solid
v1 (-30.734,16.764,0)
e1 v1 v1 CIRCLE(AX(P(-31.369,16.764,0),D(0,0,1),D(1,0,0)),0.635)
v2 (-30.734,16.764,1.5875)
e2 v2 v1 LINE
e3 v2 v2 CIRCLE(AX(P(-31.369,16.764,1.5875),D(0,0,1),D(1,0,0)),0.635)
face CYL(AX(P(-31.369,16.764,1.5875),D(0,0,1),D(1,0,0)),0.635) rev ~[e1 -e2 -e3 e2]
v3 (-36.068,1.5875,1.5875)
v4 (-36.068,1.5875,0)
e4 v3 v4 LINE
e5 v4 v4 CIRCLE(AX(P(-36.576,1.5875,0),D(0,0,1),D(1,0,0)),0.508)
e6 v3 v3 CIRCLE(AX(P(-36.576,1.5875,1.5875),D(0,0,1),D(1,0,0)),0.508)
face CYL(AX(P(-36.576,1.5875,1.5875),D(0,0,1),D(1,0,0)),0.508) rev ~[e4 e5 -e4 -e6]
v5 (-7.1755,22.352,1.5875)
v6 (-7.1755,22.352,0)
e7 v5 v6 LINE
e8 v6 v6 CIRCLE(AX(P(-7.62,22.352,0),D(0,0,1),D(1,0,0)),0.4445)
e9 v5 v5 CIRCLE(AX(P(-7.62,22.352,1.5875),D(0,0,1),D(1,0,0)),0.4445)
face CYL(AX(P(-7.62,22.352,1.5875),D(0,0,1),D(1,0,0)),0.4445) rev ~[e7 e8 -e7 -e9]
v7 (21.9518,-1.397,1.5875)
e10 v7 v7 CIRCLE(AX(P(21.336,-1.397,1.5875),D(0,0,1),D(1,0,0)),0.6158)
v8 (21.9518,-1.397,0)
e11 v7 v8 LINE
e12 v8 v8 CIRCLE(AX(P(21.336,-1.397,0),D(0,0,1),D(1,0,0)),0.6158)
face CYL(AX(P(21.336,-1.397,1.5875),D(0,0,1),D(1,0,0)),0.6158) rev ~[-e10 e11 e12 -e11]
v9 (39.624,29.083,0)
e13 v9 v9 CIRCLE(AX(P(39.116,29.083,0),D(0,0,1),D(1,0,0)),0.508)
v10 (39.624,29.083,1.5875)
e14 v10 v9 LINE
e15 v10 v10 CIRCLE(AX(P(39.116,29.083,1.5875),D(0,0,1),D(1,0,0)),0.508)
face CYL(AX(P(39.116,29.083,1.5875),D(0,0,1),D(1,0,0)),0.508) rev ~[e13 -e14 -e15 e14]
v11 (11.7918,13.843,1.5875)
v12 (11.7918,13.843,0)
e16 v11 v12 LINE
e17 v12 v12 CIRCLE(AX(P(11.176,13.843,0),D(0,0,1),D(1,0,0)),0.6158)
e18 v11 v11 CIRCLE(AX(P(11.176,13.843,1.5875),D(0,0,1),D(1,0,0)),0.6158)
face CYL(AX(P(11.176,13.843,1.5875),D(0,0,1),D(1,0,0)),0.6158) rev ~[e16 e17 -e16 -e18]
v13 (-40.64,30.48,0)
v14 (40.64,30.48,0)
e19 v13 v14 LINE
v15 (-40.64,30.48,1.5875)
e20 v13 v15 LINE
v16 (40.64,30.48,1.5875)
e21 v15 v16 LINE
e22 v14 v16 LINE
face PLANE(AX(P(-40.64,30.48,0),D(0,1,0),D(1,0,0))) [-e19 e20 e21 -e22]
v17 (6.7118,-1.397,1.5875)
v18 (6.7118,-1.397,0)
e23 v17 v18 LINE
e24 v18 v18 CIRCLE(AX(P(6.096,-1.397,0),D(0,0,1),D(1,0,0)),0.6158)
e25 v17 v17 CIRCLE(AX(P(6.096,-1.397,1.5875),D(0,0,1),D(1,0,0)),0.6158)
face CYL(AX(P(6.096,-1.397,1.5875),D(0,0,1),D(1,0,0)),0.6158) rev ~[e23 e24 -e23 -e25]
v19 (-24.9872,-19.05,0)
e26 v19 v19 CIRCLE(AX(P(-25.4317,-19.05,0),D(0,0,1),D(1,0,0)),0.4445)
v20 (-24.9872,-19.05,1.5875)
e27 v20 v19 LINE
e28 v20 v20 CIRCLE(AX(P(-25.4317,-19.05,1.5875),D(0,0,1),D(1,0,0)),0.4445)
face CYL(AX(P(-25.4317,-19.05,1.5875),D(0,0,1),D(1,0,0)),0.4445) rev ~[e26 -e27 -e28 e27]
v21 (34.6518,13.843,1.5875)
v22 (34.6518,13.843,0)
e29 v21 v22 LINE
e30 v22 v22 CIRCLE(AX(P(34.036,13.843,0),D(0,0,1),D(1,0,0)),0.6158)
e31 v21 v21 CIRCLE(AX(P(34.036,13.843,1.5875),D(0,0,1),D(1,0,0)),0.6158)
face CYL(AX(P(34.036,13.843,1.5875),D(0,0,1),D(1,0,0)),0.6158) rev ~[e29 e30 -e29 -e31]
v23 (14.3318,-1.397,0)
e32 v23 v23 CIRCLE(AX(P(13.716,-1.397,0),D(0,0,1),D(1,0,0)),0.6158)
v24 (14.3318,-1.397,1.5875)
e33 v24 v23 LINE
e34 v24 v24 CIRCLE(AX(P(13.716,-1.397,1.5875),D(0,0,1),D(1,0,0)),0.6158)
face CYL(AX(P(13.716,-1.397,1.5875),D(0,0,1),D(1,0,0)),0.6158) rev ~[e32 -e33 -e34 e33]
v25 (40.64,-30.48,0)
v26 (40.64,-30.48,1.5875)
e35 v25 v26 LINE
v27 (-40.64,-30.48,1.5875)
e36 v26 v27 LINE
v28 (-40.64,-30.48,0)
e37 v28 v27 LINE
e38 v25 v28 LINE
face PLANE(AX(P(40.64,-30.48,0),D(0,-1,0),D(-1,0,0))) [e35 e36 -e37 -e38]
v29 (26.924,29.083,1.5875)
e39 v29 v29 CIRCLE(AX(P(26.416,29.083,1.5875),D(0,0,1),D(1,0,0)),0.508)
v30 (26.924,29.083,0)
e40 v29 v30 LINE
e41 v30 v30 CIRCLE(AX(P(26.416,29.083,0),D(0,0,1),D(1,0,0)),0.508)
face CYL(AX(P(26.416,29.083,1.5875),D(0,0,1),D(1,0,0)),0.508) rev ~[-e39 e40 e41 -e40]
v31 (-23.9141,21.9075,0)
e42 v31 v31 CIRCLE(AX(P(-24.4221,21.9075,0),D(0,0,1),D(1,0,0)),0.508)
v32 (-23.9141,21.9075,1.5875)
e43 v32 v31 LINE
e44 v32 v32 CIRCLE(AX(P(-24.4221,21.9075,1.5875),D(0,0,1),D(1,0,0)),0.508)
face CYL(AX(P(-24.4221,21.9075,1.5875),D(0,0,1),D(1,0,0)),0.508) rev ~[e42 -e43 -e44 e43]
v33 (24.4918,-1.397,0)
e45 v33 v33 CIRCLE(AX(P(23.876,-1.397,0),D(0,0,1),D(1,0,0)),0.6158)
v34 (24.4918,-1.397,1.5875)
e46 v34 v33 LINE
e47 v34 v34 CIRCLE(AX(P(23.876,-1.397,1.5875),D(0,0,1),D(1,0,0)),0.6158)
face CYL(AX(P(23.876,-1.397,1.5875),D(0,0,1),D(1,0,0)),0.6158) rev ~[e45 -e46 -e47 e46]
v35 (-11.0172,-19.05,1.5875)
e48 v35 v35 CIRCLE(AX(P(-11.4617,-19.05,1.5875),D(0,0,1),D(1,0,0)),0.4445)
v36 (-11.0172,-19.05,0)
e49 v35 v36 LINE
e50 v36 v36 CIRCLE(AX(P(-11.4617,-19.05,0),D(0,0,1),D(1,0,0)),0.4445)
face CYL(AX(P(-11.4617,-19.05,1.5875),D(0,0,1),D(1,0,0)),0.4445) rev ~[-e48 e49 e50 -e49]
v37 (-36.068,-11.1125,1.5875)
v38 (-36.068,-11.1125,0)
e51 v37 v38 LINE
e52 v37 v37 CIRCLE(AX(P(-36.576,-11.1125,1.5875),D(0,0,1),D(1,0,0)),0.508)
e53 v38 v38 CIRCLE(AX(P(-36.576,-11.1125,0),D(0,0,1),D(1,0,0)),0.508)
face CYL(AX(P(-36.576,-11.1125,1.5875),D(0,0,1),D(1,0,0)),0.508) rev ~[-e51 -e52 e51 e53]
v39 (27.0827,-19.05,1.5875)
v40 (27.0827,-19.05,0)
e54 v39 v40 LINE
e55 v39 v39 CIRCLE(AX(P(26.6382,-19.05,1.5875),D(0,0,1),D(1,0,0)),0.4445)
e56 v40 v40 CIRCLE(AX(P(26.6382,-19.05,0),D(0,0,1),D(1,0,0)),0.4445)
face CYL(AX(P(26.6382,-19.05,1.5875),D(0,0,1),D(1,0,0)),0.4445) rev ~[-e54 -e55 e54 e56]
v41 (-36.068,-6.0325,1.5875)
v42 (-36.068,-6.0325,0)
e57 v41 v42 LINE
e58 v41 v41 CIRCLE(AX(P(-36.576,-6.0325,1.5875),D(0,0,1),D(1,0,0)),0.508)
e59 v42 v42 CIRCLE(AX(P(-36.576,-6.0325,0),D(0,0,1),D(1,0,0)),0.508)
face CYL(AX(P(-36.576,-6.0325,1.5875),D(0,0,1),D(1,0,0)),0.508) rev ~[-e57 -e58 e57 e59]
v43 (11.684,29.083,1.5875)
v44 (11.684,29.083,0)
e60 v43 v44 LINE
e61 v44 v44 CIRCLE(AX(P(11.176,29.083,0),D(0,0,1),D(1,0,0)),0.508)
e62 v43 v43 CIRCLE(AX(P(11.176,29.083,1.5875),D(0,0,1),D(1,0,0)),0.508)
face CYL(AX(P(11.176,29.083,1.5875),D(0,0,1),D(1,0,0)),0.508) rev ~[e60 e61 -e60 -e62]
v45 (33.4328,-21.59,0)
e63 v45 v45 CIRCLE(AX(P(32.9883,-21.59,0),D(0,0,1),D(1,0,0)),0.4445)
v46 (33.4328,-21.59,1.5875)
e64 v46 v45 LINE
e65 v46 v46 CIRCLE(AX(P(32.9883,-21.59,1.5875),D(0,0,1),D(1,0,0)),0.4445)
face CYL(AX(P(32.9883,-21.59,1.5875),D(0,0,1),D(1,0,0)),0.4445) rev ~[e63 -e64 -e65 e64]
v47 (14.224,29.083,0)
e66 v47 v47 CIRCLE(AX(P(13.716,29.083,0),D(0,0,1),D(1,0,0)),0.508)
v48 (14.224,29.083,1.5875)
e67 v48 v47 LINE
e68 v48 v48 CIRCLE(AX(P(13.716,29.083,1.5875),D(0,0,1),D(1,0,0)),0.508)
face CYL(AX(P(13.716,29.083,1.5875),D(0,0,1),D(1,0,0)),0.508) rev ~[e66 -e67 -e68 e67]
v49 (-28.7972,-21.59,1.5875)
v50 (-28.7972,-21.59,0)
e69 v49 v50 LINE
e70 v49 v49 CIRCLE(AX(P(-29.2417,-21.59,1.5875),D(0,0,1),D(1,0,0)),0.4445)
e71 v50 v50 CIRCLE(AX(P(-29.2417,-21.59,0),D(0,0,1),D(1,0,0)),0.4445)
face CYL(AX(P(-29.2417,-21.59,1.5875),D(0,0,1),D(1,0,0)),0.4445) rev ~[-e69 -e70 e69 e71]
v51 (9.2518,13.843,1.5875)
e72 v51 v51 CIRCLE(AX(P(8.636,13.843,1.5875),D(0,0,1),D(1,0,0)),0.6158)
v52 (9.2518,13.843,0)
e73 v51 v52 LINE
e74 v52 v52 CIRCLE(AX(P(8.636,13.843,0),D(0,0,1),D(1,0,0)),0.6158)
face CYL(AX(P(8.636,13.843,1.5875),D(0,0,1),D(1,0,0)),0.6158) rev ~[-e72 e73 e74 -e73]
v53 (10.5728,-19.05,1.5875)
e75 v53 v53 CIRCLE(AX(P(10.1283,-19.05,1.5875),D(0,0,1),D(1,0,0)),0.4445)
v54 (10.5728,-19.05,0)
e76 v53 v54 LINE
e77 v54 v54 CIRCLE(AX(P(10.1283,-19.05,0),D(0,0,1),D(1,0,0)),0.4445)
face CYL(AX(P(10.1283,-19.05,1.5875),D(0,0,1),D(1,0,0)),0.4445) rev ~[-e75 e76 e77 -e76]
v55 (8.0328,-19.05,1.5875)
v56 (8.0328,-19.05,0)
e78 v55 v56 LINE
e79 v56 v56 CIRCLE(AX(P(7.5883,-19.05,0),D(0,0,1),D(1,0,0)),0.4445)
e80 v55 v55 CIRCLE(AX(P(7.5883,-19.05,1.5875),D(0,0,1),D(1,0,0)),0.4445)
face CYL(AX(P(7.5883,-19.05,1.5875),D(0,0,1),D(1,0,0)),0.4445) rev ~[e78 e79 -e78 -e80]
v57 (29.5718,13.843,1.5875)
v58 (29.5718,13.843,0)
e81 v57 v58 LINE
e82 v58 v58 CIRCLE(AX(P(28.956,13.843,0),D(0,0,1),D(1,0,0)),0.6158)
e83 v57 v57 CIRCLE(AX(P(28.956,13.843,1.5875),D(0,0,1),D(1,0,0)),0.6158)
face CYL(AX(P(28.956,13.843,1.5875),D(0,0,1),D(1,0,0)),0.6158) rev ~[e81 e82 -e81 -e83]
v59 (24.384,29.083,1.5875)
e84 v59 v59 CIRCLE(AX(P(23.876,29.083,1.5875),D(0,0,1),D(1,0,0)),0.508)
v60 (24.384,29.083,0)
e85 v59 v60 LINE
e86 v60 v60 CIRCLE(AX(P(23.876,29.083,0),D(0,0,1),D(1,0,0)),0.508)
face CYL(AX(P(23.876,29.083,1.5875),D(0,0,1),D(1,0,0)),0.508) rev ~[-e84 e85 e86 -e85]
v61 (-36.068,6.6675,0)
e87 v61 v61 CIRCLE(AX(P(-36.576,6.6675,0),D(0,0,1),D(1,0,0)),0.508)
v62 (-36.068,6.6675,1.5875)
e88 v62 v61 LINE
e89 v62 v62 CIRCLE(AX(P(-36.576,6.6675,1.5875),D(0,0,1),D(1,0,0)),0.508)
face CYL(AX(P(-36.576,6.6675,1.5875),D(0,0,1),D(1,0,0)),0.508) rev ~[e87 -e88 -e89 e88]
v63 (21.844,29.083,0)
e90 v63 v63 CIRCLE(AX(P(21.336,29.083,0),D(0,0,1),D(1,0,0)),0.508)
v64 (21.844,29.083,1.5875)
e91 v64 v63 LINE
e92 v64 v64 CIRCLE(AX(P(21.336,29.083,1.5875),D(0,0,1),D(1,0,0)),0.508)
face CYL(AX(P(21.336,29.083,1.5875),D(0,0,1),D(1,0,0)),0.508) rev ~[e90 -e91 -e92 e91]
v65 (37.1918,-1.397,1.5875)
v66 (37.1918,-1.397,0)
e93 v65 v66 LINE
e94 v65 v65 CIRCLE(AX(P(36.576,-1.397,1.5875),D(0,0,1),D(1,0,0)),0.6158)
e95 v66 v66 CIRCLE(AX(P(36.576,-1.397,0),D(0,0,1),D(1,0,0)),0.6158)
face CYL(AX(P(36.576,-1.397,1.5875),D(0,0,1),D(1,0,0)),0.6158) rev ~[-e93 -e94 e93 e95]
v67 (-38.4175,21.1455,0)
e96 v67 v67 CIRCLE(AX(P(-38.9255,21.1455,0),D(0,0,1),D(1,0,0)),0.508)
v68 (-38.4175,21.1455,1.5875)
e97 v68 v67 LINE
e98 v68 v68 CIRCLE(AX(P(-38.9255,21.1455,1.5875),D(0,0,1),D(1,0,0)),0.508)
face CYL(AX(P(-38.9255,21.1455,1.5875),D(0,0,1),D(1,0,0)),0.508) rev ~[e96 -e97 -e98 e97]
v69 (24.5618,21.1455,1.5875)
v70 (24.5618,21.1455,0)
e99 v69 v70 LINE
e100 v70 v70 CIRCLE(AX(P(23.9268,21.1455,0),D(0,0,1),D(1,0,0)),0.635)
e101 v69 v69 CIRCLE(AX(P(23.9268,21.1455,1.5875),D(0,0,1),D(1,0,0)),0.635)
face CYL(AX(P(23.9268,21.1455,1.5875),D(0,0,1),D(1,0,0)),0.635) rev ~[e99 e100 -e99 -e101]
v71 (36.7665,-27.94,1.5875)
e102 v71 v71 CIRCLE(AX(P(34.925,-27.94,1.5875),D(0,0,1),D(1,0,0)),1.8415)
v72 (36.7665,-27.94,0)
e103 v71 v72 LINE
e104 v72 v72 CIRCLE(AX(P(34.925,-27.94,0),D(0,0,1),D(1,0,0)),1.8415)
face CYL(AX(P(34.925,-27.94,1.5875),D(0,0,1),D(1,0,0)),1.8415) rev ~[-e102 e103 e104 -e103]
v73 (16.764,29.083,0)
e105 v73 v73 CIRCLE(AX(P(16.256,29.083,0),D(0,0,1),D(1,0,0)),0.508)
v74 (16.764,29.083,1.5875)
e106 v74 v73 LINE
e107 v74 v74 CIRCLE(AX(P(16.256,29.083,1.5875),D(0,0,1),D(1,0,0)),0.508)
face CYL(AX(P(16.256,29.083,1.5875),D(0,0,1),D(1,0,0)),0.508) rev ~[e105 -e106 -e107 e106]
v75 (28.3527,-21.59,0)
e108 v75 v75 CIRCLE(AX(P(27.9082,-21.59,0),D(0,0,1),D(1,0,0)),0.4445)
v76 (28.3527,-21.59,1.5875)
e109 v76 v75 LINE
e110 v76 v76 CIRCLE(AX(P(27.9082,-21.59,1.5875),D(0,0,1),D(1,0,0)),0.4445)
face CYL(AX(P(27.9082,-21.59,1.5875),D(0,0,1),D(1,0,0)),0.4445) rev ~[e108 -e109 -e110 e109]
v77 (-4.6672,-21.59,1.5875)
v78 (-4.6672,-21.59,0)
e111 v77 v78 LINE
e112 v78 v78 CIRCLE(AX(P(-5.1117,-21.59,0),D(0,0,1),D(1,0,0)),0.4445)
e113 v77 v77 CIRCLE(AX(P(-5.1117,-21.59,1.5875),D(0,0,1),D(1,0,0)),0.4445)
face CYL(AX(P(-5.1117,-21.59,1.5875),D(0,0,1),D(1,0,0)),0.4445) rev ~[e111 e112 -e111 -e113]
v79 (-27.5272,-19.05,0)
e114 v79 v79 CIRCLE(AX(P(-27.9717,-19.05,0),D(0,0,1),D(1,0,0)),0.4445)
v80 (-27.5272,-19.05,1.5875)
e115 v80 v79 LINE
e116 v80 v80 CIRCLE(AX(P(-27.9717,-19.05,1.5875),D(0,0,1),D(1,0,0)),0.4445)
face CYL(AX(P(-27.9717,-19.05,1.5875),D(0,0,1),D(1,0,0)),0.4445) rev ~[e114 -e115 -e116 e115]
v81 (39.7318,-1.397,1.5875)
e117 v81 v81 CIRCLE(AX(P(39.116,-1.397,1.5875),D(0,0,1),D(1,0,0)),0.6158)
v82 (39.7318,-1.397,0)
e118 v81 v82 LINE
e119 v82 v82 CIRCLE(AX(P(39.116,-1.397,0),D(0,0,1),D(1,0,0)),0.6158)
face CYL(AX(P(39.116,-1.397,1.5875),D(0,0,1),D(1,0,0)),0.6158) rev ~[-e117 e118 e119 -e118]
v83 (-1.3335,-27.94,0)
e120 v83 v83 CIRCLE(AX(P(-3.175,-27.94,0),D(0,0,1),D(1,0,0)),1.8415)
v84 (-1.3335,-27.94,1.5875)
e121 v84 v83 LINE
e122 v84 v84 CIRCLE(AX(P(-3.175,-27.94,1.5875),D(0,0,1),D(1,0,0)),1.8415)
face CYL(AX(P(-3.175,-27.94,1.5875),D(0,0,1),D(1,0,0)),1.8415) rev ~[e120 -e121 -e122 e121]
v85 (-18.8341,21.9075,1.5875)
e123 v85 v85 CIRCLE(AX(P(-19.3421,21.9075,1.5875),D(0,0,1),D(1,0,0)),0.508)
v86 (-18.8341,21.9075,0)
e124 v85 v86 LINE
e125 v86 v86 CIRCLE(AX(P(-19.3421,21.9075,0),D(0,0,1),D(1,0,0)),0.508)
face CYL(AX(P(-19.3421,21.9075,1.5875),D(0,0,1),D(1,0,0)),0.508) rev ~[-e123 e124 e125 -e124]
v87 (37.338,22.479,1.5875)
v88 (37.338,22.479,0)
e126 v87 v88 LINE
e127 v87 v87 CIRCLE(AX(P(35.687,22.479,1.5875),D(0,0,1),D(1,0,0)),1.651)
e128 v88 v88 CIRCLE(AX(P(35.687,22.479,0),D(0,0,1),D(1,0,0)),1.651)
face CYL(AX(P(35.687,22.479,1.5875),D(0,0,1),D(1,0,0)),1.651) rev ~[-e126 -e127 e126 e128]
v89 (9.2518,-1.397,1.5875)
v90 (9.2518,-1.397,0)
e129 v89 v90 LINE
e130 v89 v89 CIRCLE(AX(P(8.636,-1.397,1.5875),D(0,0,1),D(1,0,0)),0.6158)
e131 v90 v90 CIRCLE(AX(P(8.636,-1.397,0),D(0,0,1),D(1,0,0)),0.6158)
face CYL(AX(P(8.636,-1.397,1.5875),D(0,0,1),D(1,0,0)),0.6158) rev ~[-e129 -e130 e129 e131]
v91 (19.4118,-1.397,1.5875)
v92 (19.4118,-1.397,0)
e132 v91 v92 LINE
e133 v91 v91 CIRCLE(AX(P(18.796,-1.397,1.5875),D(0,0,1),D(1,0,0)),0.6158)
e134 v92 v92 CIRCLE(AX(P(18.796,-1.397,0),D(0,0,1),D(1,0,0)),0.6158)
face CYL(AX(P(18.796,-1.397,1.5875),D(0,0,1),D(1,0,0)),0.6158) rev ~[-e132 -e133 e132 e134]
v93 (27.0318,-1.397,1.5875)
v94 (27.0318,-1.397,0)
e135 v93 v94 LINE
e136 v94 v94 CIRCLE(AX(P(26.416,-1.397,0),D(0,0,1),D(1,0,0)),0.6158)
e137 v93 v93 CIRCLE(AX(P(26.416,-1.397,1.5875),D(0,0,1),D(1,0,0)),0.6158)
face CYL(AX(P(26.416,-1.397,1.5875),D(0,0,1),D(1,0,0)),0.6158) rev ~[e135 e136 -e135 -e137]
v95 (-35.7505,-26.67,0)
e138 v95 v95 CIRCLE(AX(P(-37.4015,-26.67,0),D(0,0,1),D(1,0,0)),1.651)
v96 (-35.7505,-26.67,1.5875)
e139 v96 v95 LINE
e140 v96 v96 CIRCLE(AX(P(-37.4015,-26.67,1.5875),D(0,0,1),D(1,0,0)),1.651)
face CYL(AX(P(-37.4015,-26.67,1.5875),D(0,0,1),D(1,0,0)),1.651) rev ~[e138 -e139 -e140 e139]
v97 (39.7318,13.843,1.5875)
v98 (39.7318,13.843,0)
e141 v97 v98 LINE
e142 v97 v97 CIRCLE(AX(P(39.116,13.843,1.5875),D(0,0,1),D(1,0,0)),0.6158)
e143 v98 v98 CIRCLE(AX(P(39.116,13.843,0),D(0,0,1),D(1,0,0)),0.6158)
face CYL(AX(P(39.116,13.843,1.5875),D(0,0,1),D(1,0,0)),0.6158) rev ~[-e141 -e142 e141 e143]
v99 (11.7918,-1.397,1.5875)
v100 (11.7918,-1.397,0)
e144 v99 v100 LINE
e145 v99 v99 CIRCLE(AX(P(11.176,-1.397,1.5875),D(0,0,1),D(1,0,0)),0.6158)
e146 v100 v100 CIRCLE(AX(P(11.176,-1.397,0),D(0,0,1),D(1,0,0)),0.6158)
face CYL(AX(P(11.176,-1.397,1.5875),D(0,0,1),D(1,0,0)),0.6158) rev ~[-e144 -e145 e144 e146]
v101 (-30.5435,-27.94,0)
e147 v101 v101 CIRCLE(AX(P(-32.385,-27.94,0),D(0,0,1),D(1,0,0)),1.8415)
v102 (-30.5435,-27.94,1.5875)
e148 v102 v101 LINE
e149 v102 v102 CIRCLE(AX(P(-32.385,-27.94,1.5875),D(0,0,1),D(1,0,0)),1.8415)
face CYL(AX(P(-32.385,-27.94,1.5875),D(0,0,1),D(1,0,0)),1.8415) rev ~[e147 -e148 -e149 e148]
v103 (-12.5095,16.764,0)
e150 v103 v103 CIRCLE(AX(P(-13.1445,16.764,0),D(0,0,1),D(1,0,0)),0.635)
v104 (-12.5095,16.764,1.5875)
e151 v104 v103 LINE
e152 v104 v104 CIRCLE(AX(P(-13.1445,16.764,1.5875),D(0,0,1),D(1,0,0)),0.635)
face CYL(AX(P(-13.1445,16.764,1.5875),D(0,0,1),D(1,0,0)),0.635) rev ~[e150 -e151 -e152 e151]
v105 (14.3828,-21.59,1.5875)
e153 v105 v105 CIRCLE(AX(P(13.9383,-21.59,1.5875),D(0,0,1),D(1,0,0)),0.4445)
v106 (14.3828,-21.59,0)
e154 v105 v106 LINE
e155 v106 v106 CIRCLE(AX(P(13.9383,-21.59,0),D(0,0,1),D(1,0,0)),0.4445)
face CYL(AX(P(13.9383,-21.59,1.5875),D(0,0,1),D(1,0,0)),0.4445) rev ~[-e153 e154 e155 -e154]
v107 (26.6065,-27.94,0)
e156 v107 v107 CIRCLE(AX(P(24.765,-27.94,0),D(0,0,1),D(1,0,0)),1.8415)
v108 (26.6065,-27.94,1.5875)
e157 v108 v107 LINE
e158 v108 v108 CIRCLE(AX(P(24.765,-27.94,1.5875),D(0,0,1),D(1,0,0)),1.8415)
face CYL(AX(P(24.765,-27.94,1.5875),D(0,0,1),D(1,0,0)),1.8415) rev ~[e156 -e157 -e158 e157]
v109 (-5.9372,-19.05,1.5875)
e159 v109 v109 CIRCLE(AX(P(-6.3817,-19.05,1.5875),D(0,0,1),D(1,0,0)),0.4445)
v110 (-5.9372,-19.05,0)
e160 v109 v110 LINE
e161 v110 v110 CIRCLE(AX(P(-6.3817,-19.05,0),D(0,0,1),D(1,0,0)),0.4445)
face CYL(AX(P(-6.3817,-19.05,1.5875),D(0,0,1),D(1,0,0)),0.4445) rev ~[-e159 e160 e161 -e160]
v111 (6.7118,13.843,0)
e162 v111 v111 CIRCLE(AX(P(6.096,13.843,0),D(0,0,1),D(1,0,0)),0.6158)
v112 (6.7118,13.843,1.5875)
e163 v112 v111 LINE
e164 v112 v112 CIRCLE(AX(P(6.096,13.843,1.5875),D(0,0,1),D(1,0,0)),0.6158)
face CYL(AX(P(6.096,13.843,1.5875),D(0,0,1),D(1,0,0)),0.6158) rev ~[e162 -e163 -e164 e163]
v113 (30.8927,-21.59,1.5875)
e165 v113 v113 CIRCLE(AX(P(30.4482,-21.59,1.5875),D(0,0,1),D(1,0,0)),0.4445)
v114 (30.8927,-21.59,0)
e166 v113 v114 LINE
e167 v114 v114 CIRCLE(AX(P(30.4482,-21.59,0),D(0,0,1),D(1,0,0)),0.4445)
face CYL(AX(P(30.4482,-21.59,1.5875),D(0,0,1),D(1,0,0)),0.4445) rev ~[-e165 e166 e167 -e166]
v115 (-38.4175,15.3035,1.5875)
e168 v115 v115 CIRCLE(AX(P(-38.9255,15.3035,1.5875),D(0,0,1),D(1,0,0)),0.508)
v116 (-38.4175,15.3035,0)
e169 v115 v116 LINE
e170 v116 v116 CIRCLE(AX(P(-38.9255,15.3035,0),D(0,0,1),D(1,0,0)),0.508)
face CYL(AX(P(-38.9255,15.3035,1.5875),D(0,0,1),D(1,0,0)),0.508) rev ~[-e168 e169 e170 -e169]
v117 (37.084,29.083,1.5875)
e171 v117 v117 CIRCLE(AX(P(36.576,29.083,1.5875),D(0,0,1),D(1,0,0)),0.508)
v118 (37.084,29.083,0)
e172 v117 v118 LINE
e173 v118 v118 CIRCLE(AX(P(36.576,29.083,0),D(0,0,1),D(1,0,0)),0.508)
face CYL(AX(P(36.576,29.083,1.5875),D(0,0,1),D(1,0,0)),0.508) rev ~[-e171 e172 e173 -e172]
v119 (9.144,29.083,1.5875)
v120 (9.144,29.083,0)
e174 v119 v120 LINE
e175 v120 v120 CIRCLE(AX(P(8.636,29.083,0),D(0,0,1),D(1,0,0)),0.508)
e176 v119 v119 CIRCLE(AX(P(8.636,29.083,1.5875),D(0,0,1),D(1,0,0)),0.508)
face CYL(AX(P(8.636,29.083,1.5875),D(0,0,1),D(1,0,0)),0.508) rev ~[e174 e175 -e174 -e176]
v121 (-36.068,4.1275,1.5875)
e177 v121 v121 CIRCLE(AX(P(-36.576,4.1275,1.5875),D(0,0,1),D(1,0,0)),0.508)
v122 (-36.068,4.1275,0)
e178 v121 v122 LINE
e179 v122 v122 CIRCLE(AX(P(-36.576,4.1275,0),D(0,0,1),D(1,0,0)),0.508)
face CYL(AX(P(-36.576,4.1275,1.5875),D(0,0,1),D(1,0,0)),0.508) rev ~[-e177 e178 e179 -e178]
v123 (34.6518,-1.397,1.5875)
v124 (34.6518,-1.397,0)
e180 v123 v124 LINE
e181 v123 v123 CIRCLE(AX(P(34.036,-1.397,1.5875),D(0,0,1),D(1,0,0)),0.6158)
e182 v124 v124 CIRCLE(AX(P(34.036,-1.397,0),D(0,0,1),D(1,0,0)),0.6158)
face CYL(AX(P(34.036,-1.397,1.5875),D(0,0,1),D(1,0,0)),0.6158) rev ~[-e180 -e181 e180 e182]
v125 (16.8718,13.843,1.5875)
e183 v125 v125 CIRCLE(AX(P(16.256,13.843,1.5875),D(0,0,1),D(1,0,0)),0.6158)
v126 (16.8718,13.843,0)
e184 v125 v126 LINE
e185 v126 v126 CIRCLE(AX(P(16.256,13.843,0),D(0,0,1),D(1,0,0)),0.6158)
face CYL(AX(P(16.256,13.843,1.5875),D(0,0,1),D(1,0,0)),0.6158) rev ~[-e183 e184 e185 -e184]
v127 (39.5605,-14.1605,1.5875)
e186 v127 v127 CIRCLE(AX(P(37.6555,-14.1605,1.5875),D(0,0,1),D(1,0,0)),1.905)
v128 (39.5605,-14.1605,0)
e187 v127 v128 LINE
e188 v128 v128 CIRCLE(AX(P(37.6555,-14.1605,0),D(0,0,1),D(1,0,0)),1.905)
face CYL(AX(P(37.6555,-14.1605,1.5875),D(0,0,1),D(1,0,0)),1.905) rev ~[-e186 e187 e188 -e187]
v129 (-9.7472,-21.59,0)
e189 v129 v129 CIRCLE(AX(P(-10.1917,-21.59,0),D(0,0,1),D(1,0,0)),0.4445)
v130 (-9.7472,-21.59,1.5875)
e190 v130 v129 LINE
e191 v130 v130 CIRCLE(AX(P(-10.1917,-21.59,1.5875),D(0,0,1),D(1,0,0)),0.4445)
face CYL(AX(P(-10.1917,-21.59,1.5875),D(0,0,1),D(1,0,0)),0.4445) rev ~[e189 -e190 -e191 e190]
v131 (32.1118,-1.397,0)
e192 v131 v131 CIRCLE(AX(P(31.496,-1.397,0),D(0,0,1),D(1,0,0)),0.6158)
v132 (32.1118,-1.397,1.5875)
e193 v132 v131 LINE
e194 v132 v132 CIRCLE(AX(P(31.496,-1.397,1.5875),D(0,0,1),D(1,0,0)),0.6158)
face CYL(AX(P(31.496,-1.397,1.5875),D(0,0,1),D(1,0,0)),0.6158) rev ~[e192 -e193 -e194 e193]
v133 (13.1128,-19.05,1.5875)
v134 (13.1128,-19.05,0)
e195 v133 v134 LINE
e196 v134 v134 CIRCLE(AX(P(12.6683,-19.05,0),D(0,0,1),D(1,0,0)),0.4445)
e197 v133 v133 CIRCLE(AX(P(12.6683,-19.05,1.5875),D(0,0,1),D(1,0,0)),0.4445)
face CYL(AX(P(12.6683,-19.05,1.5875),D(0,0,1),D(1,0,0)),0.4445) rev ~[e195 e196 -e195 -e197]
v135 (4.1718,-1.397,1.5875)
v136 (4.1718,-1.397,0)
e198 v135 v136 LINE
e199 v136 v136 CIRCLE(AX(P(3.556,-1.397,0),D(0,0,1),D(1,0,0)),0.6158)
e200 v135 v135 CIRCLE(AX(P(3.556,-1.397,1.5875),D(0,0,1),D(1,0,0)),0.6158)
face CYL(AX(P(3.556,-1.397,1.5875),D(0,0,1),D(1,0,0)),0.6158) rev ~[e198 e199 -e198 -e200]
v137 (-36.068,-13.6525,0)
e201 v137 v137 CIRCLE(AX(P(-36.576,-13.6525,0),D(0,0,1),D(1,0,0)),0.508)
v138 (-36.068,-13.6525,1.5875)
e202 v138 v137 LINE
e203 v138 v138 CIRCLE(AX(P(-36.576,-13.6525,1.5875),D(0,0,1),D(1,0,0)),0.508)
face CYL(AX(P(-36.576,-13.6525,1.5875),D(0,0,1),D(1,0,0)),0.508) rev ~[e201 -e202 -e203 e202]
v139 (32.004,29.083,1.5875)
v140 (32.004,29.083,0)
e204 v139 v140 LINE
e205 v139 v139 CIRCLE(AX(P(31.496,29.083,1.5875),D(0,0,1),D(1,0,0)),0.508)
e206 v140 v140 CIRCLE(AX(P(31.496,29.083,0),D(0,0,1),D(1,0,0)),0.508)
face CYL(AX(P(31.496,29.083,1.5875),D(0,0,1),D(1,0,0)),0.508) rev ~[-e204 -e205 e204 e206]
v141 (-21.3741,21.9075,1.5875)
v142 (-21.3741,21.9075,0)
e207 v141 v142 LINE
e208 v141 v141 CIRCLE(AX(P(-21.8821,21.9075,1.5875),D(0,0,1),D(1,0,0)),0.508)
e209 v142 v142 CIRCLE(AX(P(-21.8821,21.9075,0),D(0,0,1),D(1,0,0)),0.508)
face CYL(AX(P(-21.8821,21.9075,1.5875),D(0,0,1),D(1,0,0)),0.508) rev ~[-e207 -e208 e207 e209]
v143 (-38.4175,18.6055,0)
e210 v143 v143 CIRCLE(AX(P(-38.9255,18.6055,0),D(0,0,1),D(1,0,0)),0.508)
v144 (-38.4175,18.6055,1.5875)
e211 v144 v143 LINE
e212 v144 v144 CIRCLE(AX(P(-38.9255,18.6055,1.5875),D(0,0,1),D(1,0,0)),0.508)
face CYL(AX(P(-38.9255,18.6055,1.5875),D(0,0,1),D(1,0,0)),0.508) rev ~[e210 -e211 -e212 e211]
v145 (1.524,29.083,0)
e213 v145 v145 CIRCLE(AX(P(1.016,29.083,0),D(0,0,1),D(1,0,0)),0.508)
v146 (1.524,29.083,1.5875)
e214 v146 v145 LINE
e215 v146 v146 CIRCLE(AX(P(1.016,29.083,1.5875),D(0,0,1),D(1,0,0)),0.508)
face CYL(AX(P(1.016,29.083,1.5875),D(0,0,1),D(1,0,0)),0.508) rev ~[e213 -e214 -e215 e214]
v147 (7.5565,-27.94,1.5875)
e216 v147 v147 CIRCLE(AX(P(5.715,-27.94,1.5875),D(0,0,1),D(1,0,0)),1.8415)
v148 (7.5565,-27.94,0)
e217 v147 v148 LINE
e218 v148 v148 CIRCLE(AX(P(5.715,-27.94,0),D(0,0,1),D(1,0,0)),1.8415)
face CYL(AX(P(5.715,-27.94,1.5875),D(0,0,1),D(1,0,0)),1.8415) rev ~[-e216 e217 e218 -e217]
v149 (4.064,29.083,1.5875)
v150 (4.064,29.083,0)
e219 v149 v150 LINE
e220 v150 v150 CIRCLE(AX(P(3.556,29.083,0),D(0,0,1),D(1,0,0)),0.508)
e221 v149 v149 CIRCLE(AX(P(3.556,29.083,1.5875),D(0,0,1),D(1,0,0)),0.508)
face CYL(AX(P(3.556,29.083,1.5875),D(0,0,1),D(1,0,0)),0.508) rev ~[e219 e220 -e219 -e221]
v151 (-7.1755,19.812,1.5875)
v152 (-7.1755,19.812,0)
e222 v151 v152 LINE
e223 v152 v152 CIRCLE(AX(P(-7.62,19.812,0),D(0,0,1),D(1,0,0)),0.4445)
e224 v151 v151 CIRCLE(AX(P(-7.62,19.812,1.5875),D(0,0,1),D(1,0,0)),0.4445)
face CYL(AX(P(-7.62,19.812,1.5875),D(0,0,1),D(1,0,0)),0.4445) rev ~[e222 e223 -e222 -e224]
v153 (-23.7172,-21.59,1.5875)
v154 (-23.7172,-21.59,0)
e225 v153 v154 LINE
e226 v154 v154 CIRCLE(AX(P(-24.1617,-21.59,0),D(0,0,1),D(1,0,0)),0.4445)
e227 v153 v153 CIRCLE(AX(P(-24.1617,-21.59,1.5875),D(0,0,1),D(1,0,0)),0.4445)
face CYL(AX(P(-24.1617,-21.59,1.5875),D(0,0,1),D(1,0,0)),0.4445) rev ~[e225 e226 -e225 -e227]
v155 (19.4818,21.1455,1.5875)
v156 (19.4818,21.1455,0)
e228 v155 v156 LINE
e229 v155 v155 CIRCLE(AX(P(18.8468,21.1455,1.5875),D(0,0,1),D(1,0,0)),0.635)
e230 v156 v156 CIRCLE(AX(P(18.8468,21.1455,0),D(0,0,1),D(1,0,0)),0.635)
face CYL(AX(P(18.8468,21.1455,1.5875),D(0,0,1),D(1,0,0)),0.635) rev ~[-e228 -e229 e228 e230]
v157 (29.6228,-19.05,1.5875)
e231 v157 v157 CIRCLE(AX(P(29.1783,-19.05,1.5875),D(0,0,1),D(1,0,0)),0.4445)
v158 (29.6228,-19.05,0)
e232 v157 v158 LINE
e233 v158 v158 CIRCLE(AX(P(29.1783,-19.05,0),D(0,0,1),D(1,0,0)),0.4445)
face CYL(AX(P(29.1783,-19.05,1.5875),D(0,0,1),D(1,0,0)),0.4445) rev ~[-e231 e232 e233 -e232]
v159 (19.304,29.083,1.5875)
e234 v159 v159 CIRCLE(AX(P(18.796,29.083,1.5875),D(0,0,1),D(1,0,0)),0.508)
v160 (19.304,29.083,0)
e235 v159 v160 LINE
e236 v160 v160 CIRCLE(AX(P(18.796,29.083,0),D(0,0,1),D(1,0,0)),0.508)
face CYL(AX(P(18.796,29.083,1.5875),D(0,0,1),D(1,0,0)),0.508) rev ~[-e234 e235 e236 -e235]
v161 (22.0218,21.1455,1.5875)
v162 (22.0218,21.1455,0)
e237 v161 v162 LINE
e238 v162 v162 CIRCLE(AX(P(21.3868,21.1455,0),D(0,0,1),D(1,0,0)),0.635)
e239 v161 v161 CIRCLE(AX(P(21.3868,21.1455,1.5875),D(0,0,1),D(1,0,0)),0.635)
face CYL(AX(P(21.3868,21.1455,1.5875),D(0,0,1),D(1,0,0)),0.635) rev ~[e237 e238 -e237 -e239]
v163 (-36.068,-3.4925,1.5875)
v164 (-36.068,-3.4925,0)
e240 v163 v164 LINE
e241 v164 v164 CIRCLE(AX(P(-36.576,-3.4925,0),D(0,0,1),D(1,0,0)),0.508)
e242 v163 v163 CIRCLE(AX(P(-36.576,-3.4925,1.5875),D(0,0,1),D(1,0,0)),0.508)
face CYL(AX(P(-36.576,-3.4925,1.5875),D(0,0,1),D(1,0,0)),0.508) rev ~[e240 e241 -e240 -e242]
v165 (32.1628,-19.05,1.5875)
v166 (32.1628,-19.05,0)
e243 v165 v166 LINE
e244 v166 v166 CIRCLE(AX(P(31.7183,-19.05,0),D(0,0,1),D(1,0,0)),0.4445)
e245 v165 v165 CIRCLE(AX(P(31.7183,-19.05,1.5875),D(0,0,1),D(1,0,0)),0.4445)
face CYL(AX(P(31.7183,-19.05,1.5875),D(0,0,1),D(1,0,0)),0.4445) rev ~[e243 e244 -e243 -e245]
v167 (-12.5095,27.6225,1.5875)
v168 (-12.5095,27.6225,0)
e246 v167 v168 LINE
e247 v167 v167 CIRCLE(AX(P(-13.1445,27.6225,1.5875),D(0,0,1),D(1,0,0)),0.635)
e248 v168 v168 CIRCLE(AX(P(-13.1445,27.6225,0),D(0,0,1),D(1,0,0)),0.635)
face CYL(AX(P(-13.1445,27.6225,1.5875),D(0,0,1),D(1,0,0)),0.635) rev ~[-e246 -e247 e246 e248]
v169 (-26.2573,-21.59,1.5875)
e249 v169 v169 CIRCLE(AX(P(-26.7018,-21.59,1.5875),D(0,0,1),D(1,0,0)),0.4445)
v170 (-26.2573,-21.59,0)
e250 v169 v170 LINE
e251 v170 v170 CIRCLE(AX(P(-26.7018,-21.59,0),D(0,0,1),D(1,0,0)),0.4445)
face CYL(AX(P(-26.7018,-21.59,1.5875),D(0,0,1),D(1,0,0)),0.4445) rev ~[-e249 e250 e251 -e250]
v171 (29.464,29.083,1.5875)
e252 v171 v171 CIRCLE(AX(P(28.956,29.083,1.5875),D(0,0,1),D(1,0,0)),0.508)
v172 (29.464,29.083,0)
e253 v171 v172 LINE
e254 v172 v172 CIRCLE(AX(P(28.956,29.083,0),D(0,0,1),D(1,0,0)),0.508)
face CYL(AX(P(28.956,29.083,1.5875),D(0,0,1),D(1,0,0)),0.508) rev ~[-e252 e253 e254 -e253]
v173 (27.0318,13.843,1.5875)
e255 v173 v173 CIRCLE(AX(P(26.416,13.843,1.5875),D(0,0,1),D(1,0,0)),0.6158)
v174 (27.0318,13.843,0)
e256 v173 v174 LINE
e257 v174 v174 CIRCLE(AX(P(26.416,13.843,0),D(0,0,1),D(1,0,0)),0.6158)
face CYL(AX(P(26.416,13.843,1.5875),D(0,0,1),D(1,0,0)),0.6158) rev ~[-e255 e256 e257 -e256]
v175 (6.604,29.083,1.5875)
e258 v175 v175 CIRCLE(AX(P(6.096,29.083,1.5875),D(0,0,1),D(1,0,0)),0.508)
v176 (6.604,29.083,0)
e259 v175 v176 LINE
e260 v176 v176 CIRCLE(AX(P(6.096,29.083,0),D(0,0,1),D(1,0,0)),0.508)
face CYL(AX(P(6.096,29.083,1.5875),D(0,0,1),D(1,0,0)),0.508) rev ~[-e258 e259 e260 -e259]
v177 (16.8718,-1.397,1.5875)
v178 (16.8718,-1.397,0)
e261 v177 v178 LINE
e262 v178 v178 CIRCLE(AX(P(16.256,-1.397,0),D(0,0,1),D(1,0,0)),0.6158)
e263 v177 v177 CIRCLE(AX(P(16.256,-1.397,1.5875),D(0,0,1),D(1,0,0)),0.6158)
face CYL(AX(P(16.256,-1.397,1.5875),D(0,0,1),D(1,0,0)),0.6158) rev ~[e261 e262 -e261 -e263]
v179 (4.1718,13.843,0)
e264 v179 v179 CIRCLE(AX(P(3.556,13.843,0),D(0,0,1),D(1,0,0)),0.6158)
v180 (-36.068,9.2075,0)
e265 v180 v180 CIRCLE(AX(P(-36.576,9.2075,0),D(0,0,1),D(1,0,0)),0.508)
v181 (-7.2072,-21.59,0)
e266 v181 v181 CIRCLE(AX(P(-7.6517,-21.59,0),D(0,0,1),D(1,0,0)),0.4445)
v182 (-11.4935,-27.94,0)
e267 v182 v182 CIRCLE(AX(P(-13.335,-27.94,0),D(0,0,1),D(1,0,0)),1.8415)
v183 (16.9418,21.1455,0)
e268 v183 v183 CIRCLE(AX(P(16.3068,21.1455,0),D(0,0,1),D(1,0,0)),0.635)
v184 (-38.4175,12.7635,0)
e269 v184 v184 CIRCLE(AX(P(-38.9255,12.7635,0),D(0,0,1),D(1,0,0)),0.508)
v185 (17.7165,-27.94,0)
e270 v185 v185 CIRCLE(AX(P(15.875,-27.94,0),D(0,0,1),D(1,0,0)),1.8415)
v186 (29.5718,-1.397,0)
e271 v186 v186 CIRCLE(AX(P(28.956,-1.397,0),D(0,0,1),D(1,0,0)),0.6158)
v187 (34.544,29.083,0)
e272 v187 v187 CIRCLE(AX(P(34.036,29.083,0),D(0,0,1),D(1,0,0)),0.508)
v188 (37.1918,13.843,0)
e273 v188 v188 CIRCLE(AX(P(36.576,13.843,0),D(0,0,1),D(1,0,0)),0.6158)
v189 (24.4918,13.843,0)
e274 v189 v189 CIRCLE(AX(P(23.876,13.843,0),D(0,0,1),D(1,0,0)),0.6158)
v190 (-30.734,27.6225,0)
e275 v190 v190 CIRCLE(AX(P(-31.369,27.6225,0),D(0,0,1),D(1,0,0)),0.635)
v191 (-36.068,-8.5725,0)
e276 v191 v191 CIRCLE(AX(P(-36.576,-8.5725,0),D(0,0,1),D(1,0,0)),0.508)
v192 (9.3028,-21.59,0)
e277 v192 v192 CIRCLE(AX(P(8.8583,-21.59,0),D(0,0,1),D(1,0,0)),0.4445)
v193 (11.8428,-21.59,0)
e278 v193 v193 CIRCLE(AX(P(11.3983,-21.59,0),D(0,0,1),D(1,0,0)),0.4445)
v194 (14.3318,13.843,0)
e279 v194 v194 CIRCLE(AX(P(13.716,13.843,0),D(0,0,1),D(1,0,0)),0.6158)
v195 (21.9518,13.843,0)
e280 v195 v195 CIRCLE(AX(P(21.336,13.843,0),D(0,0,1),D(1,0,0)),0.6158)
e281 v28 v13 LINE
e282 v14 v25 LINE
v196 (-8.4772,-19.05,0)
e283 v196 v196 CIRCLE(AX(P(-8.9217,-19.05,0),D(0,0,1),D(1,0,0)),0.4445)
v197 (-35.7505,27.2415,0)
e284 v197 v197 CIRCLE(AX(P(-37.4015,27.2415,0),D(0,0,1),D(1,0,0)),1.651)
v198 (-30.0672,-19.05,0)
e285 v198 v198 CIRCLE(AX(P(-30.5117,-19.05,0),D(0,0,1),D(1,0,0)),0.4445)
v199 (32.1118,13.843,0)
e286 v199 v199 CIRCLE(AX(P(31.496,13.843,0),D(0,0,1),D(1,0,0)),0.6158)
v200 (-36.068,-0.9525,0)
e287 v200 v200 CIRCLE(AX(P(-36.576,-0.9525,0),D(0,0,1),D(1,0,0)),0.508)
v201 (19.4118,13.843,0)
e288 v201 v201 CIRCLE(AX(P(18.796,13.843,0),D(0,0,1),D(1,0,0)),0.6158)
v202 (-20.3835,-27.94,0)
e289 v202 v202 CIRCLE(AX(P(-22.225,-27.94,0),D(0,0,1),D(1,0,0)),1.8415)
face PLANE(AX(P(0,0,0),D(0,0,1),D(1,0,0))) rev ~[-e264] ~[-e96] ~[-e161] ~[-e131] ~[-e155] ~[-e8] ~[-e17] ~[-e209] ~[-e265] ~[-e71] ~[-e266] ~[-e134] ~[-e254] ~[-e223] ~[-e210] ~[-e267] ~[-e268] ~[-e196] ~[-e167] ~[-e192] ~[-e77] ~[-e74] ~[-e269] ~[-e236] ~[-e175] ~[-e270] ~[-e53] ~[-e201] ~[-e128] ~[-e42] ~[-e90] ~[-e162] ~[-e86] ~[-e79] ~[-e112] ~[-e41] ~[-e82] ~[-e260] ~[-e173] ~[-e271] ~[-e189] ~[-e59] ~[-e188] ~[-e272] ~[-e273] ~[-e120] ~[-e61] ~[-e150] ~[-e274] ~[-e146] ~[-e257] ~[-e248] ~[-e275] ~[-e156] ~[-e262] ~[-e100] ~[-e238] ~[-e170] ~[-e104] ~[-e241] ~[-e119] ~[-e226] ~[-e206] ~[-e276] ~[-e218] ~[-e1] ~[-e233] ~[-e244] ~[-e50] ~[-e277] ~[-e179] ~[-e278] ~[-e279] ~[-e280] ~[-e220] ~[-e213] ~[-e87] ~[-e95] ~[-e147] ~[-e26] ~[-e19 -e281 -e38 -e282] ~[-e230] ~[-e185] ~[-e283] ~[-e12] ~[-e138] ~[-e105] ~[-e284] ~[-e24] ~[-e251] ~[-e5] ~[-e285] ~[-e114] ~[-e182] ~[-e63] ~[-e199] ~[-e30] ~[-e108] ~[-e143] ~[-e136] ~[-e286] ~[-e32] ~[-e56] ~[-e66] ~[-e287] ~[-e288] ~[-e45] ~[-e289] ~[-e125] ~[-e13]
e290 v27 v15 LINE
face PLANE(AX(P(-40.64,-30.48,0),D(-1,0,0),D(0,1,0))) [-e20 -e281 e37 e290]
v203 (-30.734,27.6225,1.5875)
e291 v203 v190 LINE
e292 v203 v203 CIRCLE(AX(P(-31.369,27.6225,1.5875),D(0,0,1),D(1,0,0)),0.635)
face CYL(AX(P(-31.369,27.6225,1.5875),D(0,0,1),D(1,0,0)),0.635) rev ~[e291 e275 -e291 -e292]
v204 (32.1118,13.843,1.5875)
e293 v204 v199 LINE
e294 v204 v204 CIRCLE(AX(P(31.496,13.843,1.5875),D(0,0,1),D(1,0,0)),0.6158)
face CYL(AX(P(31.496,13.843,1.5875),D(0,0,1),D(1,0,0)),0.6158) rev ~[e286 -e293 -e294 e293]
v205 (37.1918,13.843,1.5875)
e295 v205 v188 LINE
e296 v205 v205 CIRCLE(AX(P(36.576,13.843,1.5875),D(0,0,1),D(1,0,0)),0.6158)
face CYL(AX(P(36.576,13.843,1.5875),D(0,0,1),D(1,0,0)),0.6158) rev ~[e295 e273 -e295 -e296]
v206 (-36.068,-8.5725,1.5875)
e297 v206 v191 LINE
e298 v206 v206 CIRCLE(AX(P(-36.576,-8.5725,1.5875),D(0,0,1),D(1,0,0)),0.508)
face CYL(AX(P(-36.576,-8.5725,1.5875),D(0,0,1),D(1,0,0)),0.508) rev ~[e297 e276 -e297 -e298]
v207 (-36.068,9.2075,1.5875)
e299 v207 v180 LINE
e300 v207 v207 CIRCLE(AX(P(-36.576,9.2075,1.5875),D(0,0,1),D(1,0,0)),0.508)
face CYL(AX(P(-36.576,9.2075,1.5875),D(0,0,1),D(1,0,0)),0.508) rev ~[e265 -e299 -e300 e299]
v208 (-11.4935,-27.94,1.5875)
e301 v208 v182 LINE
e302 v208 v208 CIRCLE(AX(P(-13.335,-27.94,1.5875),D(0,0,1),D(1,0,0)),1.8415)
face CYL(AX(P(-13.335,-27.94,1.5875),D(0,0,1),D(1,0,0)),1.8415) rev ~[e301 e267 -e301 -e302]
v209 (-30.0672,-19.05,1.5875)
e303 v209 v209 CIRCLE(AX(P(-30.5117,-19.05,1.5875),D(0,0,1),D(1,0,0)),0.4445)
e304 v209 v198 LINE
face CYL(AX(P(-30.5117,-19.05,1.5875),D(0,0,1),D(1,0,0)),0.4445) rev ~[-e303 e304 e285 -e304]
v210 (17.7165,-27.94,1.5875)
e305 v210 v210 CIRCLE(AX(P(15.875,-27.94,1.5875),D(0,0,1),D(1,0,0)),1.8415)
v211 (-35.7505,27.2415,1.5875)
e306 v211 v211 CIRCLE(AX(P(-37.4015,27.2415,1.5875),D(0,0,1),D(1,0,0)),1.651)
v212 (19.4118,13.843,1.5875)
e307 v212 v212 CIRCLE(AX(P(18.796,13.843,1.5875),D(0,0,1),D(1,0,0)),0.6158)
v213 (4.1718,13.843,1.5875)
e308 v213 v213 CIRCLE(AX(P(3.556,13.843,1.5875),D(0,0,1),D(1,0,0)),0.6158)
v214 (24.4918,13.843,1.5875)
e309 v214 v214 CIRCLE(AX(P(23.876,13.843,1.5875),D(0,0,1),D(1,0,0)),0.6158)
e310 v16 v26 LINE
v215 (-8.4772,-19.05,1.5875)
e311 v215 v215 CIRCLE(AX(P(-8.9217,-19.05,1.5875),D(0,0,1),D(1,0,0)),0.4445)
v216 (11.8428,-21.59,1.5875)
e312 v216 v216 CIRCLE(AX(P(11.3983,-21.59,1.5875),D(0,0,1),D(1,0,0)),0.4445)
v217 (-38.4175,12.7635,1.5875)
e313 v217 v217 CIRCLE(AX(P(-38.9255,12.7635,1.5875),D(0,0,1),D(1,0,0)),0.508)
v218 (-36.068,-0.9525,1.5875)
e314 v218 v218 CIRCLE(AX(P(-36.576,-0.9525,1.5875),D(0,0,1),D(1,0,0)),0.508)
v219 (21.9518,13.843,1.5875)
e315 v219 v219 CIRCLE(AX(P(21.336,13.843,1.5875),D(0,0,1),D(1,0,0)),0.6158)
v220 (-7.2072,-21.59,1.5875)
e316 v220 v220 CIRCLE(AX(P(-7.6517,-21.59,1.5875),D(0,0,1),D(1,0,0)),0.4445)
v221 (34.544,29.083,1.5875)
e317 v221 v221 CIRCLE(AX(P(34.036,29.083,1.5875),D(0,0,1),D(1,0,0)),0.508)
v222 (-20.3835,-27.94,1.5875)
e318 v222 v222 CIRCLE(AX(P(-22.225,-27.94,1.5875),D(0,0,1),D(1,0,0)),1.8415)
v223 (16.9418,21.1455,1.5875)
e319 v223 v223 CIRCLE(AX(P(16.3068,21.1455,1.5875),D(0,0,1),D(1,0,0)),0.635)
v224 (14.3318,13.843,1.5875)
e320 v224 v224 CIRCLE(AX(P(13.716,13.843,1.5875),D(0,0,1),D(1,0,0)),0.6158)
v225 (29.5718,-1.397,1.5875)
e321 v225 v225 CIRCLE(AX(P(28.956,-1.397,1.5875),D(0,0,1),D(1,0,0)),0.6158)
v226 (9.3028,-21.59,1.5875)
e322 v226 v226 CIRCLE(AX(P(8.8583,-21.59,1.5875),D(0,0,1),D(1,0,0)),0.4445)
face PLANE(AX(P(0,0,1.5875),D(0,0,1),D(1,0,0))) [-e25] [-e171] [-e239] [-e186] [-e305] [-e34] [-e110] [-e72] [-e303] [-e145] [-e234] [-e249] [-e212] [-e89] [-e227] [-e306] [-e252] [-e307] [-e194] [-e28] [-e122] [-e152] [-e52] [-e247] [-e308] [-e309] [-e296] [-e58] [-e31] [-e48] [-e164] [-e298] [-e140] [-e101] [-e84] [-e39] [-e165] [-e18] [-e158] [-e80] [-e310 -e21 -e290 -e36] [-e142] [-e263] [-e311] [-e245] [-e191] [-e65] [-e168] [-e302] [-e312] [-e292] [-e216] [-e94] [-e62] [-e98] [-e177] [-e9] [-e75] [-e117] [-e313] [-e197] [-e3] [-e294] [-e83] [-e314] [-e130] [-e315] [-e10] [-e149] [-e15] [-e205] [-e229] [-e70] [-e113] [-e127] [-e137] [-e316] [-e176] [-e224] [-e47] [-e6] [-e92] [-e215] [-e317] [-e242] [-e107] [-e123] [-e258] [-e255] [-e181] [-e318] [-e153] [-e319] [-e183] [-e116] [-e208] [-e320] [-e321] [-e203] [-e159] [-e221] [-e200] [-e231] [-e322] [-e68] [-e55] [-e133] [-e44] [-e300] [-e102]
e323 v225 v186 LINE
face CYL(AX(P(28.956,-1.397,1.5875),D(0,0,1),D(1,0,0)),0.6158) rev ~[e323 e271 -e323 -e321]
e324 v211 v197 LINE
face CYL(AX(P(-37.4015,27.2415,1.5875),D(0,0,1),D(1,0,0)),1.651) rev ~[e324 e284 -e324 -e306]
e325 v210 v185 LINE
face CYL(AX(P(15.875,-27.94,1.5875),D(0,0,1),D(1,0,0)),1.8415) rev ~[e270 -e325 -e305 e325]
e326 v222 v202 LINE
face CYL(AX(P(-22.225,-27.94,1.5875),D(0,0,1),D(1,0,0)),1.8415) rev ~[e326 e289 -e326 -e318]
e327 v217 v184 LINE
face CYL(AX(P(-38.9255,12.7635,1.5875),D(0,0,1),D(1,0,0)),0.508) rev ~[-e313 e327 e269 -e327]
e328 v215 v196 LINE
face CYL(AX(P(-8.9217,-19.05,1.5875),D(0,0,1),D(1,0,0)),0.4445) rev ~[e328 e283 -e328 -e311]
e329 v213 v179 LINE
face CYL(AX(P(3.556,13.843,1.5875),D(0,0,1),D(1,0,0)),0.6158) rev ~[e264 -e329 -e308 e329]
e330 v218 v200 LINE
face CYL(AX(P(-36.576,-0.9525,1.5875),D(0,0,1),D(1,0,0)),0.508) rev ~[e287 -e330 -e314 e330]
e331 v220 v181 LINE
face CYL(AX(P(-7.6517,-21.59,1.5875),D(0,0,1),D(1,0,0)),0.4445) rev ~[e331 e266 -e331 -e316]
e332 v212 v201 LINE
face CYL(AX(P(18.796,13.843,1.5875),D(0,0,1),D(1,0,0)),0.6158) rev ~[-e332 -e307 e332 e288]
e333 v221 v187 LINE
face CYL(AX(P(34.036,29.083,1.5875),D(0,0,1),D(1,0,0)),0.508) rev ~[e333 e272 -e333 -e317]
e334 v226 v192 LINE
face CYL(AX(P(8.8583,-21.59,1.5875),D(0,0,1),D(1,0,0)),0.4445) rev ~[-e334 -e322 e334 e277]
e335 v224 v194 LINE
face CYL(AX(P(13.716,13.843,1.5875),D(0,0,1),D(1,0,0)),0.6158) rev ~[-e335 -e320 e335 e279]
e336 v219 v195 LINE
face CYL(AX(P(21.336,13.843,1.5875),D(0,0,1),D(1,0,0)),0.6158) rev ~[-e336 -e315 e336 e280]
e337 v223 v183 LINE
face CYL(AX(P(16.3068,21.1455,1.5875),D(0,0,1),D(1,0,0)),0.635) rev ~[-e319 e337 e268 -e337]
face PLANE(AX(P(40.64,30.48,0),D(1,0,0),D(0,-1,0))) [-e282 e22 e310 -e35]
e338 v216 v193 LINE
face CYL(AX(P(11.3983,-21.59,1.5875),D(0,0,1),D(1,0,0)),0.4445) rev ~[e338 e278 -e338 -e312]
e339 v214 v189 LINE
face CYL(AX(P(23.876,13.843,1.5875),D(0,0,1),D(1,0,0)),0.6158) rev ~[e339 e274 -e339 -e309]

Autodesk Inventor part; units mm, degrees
ref_plane "YZ Plane" through (0, 0, 0) normal (1, 0, 0) x (0, 1, 0)
ref_plane "XZ Plane" through (0, 0, 0) normal (0, 1, 0) x (-1, 0, 0)
ref_plane "XY Plane" through (0, 0, 0) normal (0, 0, 1) x (1, 0, 0)
sketch "Sketch1" plane through (0, 0, 0) normal (0, 0, 1) x (1, 0, 0)
  line L0 (40.64, -30.48) -> (-40.64, -30.48)
  line L1 (-40.64, -30.48) -> (-40.64, 30.48)
  line L2 (-40.64, 30.48) -> (40.64, 30.48)
  line L3 (40.64, 30.48) -> (40.64, -30.48)
  line L4 (40.64, -30.48) -> (-40.64, 30.48) construction
  line L5 (-40.64, -30.48) -> (40.64, 30.48) construction
  point P0 (0, 0)
  dimension "d0" = 81.28
  dimension "d1" = 60.96
extrude "Extrusion1" add sketch "Sketch1" along normal blind 1.5875
sketch "Sketch2" plane through (0, 0, 1.5875) normal (0, 0, 1) x (1, 0, 0)
  line L0 (-40.64, 30.48) -> (40.6513, 30.4649) construction
  line L1 (40.6513, 30.4649) -> (40.64, -30.48) construction
  line L2 (40.64, -30.48) -> (-40.6513, -30.4649) construction
  line L3 (-40.6513, -30.4649) -> (-40.64, 30.48) construction
  point P0 (0, 0)
  point P1 (40.64, -30.48)
decal "Decal1"
sketch "Sketch3" plane through (0, 0, 0) normal (0, 0, -1) x (-1, 0, 0)
  line L0 (-40.64, 30.48) -> (40.6513, 30.4649) construction
  line L1 (40.6513, 30.4649) -> (40.64, -30.48) construction
  line L2 (40.64, -30.48) -> (-40.6513, -30.4649) construction
  line L3 (-40.6513, -30.4649) -> (-40.64, 30.48) construction
  point P0 (0, 0)
  point P1 (40.64, -30.48)
decal "Decal2"
sketch "Sketch4" plane through (0, 0, 1.5875) normal (0, 0, 1) x (1, 0, 0)
  circle A0 centre (1.016, 29.083) radius 0.508
  circle A1 centre (3.556, 13.843) radius 0.6158
  circle A2 centre (16.3068, 21.1455) radius 0.635
  circle A3 centre (-31.369, 27.6225) radius 0.635
  circle A4 centre (-38.9255, 21.1455) radius 0.508
  circle A5 centre (-36.576, 9.2075) radius 0.508
  circle A6 centre (-30.5117, -19.05) radius 0.4445
  line L0 (40.64, 30.48) -> (-40.64, 30.48) projected
  line L1 (-40.64, 30.48) -> (-40.64, -30.48) projected
  circle A7 centre (6.096, 13.843) radius 0.6158
  circle A8 centre (8.636, 13.843) radius 0.6158
  circle A9 centre (11.176, 13.843) radius 0.6158
  circle A10 centre (13.716, 13.843) radius 0.6158
  circle A11 centre (16.256, 13.843) radius 0.6158
  circle A12 centre (18.796, 13.843) radius 0.6158
  circle A13 centre (21.336, 13.843) radius 0.6158
  circle A14 centre (23.876, 13.843) radius 0.6158
  circle A15 centre (26.416, 13.843) radius 0.6158
  circle A16 centre (28.956, 13.843) radius 0.6158
  circle A17 centre (31.496, 13.843) radius 0.6158
  circle A18 centre (34.036, 13.843) radius 0.6158
  circle A19 centre (36.576, 13.843) radius 0.6158
  circle A20 centre (39.116, 13.843) radius 0.6158
  circle A21 centre (3.556, -1.397) radius 0.6158
  circle A22 centre (6.096, -1.397) radius 0.6158
  circle A23 centre (8.636, -1.397) radius 0.6158
  circle A24 centre (11.176, -1.397) radius 0.6158
  circle A25 centre (13.716, -1.397) radius 0.6158
  circle A26 centre (16.256, -1.397) radius 0.6158
  circle A27 centre (18.796, -1.397) radius 0.6158
  circle A28 centre (21.336, -1.397) radius 0.6158
  circle A29 centre (23.876, -1.397) radius 0.6158
  circle A30 centre (26.416, -1.397) radius 0.6158
  circle A31 centre (28.956, -1.397) radius 0.6158
  circle A32 centre (31.496, -1.397) radius 0.6158
  circle A33 centre (34.036, -1.397) radius 0.6158
  circle A34 centre (36.576, -1.397) radius 0.6158
  circle A35 centre (39.116, -1.397) radius 0.6158
  circle A36 centre (3.556, 29.083) radius 0.508
  circle A37 centre (6.096, 29.083) radius 0.508
  circle A38 centre (8.636, 29.083) radius 0.508
  circle A39 centre (11.176, 29.083) radius 0.508
  circle A40 centre (13.716, 29.083) radius 0.508
  circle A41 centre (16.256, 29.083) radius 0.508
  circle A42 centre (18.796, 29.083) radius 0.508
  circle A43 centre (21.336, 29.083) radius 0.508
  circle A44 centre (23.876, 29.083) radius 0.508
  circle A45 centre (26.416, 29.083) radius 0.508
  circle A46 centre (28.956, 29.083) radius 0.508
  circle A47 centre (31.496, 29.083) radius 0.508
  circle A48 centre (34.036, 29.083) radius 0.508
  circle A49 centre (36.576, 29.083) radius 0.508
  circle A50 centre (39.116, 29.083) radius 0.508
  circle A51 centre (-13.1445, 27.6225) radius 0.635
  circle A52 centre (-31.369, 16.764) radius 0.635
  circle A53 centre (-13.1445, 16.764) radius 0.635
  circle A54 centre (-38.9255, 15.3035) radius 0.508
  circle A55 centre (-38.9255, 18.6055) radius 0.508
  circle A56 centre (-38.9255, 12.7635) radius 0.508
  circle A57 centre (-36.576, 6.6675) radius 0.508
  circle A58 centre (-36.576, 4.1275) radius 0.508
  circle A59 centre (-36.576, 1.5875) radius 0.508
  circle A60 centre (-36.576, -0.9525) radius 0.508
  circle A61 centre (-36.576, -3.4925) radius 0.508
  circle A62 centre (-36.576, -6.0325) radius 0.508
  circle A63 centre (-36.576, -8.5725) radius 0.508
  circle A64 centre (-36.576, -11.1125) radius 0.508
  circle A65 centre (-36.576, -13.6525) radius 0.508
  circle A66 centre (-29.2417, -21.59) radius 0.4445
  circle A67 centre (-27.9717, -19.05) radius 0.4445
  circle A68 centre (-26.7018, -21.59) radius 0.4445
  circle A69 centre (-25.4317, -19.05) radius 0.4445
  circle A70 centre (-24.1617, -21.59) radius 0.4445
  circle A71 centre (-11.4617, -19.05) radius 0.4445
  circle A72 centre (-8.9217, -19.05) radius 0.4445
  circle A73 centre (-6.3817, -19.05) radius 0.4445
  circle A74 centre (-10.1917, -21.59) radius 0.4445
  circle A75 centre (-7.6517, -21.59) radius 0.4445
  circle A76 centre (-5.1117, -21.59) radius 0.4445
  circle A77 centre (7.5883, -19.05) radius 0.4445
  circle A78 centre (10.1283, -19.05) radius 0.4445
  circle A79 centre (12.6683, -19.05) radius 0.4445
  circle A80 centre (8.8583, -21.59) radius 0.4445
  circle A81 centre (11.3983, -21.59) radius 0.4445
  circle A82 centre (13.9383, -21.59) radius 0.4445
  circle A83 centre (26.6382, -19.05) radius 0.4445
  circle A84 centre (29.1783, -19.05) radius 0.4445
  circle A85 centre (31.7183, -19.05) radius 0.4445
  circle A86 centre (27.9082, -21.59) radius 0.4445
  circle A87 centre (30.4482, -21.59) radius 0.4445
  circle A88 centre (32.9883, -21.59) radius 0.4445
  circle A89 centre (-37.4015, 27.2415) radius 1.651
  circle A90 centre (18.8468, 21.1455) radius 0.635
  circle A91 centre (21.3868, 21.1455) radius 0.635
  circle A92 centre (23.9268, 21.1455) radius 0.635
  circle A93 centre (35.687, 22.479) radius 1.651
  circle A94 centre (-32.385, -27.94) radius 1.8415
  line L2 (-40.64, -30.48) -> (40.64, -30.48) projected
  circle A95 centre (-22.225, -27.94) radius 1.8415
  circle A96 centre (-3.175, -27.94) radius 1.8415
  circle A97 centre (-13.335, -27.94) radius 1.8415
  circle A98 centre (15.875, -27.94) radius 1.8415
  circle A99 centre (5.715, -27.94) radius 1.8415
  circle A100 centre (34.925, -27.94) radius 1.8415
  circle A101 centre (24.765, -27.94) radius 1.8415
  circle A102 centre (-37.4015, -26.67) radius 1.651
  circle A103 centre (37.6555, -14.1605) radius 1.905
  line L3 (40.64, -30.48) -> (40.64, 30.48) projected
  circle A104 centre (-7.62, 22.352) radius 0.4445
  circle A105 centre (-7.62, 19.812) radius 0.4445
  circle A106 centre (-24.4221, 21.9075) radius 0.508
  circle A107 centre (-21.8821, 21.9075) radius 0.508
  circle A108 centre (-19.3421, 21.9075) radius 0.508
  point P0 (0, 0)
  dimension "d10" = 1.016
  dimension "d11" = 1.27
  dimension "d12" = 1.016
  dimension "d13" = 1.016
  dimension "d14" = 16.637
  dimension "d15" = 44.196
  dimension "d18" = 2.54
  dimension "d21" = 15.24
  dimension "d24" = 1.397
  dimension "d25" = 41.656
  dimension "d28" = 2.54
  dimension "d33" = 2.8575
  dimension "d34" = 9.271
  dimension "d37" = 18.2245
  dimension "d40" = 10.8585
  dimension "d43" = 1.7145
  dimension "d44" = 9.3345
  dimension "d45" = 5.842
  dimension "d48" = 2.54
  dimension "d53" = 4.064
  dimension "d54" = 21.2725
  dimension "d57" = 2.54
  dimension "d62" = 10.1282
  dimension "d63" = 0.889
  dimension "d64" = 49.53
  dimension "d65" = 1.27
  dimension "d66" = 2.54
  dimension "d69" = 2.54
  dimension "d76" = 19.05
  dimension "d81" = 3.302
  dimension "d82" = 3.2385
  dimension "d83" = 3.2385
  dimension "d84" = 9.3345
  dimension "d85" = 56.9468
  dimension "d86" = 1.27
  dimension "d89" = 2.54
  dimension "d94" = 3.302
  dimension "d95" = 8.001
  dimension "d96" = 76.327
  dimension "d97" = 3.683
  dimension "d98" = 2.54
  dimension "d99" = 8.255
  dimension "d102" = 10.16
  dimension "d109" = 19.05
  dimension "d114" = 3.302
  dimension "d115" = 3.81
  dimension "d116" = 3.81
  dimension "d117" = 2.9845
  dimension "d118" = 16.3195
  dimension "d119" = 0.889
  dimension "d120" = 8.128
  dimension "d121" = 33.02
  dimension "d124" = 2.54
  dimension "d131" = 1.016
  dimension "d132" = 8.5725
  dimension "d133" = 16.2179
  dimension "d136" = 2.54
extrude "Extrusion2" cut sketch "Sketch4" against normal through all contours A0 | A1 | A2 | A3 | A4 | A5 | A6 | A7 | A8 | A9 | A10 | A11 | A12 | A13 | A14 | A15 | A16 | A17 | A18 | A19 | A20 | A21 | A22 | A23 | A24 | A25 | A26 | A27 | A28 | A29 | A30 | A31 | A32 | A33 | A34 | A35 | A36 | A37 | A38 | A39 | A40 | A41 | A42 | A43 | A44 | A45 | A46 | A47 | A48 | A49 | A50 | A51 | A52 | A53 | A54 | A55 | A56 | A57 | A58 | A59 | A60 | A61 | A62 | A63 | A64 | A65 | A66 | A67 | A68 | A69 | A70 | A71 | A72 | A73 | A74 | A75 | A76 | A77 | A78 | A79 | A80 | A81 | A82 | A83 | A84 | A85 | A86 | A87 | A88 | A89 | A90 | A91 | A92 | A93 | A94 | A95 | A96 | A97 | A98 | A99 | A100 | A101 | A102 | A103 | A104 | A105 | A106 | A107 | A108
equation "\"d83\" = d82"
properties part number "PCB"
